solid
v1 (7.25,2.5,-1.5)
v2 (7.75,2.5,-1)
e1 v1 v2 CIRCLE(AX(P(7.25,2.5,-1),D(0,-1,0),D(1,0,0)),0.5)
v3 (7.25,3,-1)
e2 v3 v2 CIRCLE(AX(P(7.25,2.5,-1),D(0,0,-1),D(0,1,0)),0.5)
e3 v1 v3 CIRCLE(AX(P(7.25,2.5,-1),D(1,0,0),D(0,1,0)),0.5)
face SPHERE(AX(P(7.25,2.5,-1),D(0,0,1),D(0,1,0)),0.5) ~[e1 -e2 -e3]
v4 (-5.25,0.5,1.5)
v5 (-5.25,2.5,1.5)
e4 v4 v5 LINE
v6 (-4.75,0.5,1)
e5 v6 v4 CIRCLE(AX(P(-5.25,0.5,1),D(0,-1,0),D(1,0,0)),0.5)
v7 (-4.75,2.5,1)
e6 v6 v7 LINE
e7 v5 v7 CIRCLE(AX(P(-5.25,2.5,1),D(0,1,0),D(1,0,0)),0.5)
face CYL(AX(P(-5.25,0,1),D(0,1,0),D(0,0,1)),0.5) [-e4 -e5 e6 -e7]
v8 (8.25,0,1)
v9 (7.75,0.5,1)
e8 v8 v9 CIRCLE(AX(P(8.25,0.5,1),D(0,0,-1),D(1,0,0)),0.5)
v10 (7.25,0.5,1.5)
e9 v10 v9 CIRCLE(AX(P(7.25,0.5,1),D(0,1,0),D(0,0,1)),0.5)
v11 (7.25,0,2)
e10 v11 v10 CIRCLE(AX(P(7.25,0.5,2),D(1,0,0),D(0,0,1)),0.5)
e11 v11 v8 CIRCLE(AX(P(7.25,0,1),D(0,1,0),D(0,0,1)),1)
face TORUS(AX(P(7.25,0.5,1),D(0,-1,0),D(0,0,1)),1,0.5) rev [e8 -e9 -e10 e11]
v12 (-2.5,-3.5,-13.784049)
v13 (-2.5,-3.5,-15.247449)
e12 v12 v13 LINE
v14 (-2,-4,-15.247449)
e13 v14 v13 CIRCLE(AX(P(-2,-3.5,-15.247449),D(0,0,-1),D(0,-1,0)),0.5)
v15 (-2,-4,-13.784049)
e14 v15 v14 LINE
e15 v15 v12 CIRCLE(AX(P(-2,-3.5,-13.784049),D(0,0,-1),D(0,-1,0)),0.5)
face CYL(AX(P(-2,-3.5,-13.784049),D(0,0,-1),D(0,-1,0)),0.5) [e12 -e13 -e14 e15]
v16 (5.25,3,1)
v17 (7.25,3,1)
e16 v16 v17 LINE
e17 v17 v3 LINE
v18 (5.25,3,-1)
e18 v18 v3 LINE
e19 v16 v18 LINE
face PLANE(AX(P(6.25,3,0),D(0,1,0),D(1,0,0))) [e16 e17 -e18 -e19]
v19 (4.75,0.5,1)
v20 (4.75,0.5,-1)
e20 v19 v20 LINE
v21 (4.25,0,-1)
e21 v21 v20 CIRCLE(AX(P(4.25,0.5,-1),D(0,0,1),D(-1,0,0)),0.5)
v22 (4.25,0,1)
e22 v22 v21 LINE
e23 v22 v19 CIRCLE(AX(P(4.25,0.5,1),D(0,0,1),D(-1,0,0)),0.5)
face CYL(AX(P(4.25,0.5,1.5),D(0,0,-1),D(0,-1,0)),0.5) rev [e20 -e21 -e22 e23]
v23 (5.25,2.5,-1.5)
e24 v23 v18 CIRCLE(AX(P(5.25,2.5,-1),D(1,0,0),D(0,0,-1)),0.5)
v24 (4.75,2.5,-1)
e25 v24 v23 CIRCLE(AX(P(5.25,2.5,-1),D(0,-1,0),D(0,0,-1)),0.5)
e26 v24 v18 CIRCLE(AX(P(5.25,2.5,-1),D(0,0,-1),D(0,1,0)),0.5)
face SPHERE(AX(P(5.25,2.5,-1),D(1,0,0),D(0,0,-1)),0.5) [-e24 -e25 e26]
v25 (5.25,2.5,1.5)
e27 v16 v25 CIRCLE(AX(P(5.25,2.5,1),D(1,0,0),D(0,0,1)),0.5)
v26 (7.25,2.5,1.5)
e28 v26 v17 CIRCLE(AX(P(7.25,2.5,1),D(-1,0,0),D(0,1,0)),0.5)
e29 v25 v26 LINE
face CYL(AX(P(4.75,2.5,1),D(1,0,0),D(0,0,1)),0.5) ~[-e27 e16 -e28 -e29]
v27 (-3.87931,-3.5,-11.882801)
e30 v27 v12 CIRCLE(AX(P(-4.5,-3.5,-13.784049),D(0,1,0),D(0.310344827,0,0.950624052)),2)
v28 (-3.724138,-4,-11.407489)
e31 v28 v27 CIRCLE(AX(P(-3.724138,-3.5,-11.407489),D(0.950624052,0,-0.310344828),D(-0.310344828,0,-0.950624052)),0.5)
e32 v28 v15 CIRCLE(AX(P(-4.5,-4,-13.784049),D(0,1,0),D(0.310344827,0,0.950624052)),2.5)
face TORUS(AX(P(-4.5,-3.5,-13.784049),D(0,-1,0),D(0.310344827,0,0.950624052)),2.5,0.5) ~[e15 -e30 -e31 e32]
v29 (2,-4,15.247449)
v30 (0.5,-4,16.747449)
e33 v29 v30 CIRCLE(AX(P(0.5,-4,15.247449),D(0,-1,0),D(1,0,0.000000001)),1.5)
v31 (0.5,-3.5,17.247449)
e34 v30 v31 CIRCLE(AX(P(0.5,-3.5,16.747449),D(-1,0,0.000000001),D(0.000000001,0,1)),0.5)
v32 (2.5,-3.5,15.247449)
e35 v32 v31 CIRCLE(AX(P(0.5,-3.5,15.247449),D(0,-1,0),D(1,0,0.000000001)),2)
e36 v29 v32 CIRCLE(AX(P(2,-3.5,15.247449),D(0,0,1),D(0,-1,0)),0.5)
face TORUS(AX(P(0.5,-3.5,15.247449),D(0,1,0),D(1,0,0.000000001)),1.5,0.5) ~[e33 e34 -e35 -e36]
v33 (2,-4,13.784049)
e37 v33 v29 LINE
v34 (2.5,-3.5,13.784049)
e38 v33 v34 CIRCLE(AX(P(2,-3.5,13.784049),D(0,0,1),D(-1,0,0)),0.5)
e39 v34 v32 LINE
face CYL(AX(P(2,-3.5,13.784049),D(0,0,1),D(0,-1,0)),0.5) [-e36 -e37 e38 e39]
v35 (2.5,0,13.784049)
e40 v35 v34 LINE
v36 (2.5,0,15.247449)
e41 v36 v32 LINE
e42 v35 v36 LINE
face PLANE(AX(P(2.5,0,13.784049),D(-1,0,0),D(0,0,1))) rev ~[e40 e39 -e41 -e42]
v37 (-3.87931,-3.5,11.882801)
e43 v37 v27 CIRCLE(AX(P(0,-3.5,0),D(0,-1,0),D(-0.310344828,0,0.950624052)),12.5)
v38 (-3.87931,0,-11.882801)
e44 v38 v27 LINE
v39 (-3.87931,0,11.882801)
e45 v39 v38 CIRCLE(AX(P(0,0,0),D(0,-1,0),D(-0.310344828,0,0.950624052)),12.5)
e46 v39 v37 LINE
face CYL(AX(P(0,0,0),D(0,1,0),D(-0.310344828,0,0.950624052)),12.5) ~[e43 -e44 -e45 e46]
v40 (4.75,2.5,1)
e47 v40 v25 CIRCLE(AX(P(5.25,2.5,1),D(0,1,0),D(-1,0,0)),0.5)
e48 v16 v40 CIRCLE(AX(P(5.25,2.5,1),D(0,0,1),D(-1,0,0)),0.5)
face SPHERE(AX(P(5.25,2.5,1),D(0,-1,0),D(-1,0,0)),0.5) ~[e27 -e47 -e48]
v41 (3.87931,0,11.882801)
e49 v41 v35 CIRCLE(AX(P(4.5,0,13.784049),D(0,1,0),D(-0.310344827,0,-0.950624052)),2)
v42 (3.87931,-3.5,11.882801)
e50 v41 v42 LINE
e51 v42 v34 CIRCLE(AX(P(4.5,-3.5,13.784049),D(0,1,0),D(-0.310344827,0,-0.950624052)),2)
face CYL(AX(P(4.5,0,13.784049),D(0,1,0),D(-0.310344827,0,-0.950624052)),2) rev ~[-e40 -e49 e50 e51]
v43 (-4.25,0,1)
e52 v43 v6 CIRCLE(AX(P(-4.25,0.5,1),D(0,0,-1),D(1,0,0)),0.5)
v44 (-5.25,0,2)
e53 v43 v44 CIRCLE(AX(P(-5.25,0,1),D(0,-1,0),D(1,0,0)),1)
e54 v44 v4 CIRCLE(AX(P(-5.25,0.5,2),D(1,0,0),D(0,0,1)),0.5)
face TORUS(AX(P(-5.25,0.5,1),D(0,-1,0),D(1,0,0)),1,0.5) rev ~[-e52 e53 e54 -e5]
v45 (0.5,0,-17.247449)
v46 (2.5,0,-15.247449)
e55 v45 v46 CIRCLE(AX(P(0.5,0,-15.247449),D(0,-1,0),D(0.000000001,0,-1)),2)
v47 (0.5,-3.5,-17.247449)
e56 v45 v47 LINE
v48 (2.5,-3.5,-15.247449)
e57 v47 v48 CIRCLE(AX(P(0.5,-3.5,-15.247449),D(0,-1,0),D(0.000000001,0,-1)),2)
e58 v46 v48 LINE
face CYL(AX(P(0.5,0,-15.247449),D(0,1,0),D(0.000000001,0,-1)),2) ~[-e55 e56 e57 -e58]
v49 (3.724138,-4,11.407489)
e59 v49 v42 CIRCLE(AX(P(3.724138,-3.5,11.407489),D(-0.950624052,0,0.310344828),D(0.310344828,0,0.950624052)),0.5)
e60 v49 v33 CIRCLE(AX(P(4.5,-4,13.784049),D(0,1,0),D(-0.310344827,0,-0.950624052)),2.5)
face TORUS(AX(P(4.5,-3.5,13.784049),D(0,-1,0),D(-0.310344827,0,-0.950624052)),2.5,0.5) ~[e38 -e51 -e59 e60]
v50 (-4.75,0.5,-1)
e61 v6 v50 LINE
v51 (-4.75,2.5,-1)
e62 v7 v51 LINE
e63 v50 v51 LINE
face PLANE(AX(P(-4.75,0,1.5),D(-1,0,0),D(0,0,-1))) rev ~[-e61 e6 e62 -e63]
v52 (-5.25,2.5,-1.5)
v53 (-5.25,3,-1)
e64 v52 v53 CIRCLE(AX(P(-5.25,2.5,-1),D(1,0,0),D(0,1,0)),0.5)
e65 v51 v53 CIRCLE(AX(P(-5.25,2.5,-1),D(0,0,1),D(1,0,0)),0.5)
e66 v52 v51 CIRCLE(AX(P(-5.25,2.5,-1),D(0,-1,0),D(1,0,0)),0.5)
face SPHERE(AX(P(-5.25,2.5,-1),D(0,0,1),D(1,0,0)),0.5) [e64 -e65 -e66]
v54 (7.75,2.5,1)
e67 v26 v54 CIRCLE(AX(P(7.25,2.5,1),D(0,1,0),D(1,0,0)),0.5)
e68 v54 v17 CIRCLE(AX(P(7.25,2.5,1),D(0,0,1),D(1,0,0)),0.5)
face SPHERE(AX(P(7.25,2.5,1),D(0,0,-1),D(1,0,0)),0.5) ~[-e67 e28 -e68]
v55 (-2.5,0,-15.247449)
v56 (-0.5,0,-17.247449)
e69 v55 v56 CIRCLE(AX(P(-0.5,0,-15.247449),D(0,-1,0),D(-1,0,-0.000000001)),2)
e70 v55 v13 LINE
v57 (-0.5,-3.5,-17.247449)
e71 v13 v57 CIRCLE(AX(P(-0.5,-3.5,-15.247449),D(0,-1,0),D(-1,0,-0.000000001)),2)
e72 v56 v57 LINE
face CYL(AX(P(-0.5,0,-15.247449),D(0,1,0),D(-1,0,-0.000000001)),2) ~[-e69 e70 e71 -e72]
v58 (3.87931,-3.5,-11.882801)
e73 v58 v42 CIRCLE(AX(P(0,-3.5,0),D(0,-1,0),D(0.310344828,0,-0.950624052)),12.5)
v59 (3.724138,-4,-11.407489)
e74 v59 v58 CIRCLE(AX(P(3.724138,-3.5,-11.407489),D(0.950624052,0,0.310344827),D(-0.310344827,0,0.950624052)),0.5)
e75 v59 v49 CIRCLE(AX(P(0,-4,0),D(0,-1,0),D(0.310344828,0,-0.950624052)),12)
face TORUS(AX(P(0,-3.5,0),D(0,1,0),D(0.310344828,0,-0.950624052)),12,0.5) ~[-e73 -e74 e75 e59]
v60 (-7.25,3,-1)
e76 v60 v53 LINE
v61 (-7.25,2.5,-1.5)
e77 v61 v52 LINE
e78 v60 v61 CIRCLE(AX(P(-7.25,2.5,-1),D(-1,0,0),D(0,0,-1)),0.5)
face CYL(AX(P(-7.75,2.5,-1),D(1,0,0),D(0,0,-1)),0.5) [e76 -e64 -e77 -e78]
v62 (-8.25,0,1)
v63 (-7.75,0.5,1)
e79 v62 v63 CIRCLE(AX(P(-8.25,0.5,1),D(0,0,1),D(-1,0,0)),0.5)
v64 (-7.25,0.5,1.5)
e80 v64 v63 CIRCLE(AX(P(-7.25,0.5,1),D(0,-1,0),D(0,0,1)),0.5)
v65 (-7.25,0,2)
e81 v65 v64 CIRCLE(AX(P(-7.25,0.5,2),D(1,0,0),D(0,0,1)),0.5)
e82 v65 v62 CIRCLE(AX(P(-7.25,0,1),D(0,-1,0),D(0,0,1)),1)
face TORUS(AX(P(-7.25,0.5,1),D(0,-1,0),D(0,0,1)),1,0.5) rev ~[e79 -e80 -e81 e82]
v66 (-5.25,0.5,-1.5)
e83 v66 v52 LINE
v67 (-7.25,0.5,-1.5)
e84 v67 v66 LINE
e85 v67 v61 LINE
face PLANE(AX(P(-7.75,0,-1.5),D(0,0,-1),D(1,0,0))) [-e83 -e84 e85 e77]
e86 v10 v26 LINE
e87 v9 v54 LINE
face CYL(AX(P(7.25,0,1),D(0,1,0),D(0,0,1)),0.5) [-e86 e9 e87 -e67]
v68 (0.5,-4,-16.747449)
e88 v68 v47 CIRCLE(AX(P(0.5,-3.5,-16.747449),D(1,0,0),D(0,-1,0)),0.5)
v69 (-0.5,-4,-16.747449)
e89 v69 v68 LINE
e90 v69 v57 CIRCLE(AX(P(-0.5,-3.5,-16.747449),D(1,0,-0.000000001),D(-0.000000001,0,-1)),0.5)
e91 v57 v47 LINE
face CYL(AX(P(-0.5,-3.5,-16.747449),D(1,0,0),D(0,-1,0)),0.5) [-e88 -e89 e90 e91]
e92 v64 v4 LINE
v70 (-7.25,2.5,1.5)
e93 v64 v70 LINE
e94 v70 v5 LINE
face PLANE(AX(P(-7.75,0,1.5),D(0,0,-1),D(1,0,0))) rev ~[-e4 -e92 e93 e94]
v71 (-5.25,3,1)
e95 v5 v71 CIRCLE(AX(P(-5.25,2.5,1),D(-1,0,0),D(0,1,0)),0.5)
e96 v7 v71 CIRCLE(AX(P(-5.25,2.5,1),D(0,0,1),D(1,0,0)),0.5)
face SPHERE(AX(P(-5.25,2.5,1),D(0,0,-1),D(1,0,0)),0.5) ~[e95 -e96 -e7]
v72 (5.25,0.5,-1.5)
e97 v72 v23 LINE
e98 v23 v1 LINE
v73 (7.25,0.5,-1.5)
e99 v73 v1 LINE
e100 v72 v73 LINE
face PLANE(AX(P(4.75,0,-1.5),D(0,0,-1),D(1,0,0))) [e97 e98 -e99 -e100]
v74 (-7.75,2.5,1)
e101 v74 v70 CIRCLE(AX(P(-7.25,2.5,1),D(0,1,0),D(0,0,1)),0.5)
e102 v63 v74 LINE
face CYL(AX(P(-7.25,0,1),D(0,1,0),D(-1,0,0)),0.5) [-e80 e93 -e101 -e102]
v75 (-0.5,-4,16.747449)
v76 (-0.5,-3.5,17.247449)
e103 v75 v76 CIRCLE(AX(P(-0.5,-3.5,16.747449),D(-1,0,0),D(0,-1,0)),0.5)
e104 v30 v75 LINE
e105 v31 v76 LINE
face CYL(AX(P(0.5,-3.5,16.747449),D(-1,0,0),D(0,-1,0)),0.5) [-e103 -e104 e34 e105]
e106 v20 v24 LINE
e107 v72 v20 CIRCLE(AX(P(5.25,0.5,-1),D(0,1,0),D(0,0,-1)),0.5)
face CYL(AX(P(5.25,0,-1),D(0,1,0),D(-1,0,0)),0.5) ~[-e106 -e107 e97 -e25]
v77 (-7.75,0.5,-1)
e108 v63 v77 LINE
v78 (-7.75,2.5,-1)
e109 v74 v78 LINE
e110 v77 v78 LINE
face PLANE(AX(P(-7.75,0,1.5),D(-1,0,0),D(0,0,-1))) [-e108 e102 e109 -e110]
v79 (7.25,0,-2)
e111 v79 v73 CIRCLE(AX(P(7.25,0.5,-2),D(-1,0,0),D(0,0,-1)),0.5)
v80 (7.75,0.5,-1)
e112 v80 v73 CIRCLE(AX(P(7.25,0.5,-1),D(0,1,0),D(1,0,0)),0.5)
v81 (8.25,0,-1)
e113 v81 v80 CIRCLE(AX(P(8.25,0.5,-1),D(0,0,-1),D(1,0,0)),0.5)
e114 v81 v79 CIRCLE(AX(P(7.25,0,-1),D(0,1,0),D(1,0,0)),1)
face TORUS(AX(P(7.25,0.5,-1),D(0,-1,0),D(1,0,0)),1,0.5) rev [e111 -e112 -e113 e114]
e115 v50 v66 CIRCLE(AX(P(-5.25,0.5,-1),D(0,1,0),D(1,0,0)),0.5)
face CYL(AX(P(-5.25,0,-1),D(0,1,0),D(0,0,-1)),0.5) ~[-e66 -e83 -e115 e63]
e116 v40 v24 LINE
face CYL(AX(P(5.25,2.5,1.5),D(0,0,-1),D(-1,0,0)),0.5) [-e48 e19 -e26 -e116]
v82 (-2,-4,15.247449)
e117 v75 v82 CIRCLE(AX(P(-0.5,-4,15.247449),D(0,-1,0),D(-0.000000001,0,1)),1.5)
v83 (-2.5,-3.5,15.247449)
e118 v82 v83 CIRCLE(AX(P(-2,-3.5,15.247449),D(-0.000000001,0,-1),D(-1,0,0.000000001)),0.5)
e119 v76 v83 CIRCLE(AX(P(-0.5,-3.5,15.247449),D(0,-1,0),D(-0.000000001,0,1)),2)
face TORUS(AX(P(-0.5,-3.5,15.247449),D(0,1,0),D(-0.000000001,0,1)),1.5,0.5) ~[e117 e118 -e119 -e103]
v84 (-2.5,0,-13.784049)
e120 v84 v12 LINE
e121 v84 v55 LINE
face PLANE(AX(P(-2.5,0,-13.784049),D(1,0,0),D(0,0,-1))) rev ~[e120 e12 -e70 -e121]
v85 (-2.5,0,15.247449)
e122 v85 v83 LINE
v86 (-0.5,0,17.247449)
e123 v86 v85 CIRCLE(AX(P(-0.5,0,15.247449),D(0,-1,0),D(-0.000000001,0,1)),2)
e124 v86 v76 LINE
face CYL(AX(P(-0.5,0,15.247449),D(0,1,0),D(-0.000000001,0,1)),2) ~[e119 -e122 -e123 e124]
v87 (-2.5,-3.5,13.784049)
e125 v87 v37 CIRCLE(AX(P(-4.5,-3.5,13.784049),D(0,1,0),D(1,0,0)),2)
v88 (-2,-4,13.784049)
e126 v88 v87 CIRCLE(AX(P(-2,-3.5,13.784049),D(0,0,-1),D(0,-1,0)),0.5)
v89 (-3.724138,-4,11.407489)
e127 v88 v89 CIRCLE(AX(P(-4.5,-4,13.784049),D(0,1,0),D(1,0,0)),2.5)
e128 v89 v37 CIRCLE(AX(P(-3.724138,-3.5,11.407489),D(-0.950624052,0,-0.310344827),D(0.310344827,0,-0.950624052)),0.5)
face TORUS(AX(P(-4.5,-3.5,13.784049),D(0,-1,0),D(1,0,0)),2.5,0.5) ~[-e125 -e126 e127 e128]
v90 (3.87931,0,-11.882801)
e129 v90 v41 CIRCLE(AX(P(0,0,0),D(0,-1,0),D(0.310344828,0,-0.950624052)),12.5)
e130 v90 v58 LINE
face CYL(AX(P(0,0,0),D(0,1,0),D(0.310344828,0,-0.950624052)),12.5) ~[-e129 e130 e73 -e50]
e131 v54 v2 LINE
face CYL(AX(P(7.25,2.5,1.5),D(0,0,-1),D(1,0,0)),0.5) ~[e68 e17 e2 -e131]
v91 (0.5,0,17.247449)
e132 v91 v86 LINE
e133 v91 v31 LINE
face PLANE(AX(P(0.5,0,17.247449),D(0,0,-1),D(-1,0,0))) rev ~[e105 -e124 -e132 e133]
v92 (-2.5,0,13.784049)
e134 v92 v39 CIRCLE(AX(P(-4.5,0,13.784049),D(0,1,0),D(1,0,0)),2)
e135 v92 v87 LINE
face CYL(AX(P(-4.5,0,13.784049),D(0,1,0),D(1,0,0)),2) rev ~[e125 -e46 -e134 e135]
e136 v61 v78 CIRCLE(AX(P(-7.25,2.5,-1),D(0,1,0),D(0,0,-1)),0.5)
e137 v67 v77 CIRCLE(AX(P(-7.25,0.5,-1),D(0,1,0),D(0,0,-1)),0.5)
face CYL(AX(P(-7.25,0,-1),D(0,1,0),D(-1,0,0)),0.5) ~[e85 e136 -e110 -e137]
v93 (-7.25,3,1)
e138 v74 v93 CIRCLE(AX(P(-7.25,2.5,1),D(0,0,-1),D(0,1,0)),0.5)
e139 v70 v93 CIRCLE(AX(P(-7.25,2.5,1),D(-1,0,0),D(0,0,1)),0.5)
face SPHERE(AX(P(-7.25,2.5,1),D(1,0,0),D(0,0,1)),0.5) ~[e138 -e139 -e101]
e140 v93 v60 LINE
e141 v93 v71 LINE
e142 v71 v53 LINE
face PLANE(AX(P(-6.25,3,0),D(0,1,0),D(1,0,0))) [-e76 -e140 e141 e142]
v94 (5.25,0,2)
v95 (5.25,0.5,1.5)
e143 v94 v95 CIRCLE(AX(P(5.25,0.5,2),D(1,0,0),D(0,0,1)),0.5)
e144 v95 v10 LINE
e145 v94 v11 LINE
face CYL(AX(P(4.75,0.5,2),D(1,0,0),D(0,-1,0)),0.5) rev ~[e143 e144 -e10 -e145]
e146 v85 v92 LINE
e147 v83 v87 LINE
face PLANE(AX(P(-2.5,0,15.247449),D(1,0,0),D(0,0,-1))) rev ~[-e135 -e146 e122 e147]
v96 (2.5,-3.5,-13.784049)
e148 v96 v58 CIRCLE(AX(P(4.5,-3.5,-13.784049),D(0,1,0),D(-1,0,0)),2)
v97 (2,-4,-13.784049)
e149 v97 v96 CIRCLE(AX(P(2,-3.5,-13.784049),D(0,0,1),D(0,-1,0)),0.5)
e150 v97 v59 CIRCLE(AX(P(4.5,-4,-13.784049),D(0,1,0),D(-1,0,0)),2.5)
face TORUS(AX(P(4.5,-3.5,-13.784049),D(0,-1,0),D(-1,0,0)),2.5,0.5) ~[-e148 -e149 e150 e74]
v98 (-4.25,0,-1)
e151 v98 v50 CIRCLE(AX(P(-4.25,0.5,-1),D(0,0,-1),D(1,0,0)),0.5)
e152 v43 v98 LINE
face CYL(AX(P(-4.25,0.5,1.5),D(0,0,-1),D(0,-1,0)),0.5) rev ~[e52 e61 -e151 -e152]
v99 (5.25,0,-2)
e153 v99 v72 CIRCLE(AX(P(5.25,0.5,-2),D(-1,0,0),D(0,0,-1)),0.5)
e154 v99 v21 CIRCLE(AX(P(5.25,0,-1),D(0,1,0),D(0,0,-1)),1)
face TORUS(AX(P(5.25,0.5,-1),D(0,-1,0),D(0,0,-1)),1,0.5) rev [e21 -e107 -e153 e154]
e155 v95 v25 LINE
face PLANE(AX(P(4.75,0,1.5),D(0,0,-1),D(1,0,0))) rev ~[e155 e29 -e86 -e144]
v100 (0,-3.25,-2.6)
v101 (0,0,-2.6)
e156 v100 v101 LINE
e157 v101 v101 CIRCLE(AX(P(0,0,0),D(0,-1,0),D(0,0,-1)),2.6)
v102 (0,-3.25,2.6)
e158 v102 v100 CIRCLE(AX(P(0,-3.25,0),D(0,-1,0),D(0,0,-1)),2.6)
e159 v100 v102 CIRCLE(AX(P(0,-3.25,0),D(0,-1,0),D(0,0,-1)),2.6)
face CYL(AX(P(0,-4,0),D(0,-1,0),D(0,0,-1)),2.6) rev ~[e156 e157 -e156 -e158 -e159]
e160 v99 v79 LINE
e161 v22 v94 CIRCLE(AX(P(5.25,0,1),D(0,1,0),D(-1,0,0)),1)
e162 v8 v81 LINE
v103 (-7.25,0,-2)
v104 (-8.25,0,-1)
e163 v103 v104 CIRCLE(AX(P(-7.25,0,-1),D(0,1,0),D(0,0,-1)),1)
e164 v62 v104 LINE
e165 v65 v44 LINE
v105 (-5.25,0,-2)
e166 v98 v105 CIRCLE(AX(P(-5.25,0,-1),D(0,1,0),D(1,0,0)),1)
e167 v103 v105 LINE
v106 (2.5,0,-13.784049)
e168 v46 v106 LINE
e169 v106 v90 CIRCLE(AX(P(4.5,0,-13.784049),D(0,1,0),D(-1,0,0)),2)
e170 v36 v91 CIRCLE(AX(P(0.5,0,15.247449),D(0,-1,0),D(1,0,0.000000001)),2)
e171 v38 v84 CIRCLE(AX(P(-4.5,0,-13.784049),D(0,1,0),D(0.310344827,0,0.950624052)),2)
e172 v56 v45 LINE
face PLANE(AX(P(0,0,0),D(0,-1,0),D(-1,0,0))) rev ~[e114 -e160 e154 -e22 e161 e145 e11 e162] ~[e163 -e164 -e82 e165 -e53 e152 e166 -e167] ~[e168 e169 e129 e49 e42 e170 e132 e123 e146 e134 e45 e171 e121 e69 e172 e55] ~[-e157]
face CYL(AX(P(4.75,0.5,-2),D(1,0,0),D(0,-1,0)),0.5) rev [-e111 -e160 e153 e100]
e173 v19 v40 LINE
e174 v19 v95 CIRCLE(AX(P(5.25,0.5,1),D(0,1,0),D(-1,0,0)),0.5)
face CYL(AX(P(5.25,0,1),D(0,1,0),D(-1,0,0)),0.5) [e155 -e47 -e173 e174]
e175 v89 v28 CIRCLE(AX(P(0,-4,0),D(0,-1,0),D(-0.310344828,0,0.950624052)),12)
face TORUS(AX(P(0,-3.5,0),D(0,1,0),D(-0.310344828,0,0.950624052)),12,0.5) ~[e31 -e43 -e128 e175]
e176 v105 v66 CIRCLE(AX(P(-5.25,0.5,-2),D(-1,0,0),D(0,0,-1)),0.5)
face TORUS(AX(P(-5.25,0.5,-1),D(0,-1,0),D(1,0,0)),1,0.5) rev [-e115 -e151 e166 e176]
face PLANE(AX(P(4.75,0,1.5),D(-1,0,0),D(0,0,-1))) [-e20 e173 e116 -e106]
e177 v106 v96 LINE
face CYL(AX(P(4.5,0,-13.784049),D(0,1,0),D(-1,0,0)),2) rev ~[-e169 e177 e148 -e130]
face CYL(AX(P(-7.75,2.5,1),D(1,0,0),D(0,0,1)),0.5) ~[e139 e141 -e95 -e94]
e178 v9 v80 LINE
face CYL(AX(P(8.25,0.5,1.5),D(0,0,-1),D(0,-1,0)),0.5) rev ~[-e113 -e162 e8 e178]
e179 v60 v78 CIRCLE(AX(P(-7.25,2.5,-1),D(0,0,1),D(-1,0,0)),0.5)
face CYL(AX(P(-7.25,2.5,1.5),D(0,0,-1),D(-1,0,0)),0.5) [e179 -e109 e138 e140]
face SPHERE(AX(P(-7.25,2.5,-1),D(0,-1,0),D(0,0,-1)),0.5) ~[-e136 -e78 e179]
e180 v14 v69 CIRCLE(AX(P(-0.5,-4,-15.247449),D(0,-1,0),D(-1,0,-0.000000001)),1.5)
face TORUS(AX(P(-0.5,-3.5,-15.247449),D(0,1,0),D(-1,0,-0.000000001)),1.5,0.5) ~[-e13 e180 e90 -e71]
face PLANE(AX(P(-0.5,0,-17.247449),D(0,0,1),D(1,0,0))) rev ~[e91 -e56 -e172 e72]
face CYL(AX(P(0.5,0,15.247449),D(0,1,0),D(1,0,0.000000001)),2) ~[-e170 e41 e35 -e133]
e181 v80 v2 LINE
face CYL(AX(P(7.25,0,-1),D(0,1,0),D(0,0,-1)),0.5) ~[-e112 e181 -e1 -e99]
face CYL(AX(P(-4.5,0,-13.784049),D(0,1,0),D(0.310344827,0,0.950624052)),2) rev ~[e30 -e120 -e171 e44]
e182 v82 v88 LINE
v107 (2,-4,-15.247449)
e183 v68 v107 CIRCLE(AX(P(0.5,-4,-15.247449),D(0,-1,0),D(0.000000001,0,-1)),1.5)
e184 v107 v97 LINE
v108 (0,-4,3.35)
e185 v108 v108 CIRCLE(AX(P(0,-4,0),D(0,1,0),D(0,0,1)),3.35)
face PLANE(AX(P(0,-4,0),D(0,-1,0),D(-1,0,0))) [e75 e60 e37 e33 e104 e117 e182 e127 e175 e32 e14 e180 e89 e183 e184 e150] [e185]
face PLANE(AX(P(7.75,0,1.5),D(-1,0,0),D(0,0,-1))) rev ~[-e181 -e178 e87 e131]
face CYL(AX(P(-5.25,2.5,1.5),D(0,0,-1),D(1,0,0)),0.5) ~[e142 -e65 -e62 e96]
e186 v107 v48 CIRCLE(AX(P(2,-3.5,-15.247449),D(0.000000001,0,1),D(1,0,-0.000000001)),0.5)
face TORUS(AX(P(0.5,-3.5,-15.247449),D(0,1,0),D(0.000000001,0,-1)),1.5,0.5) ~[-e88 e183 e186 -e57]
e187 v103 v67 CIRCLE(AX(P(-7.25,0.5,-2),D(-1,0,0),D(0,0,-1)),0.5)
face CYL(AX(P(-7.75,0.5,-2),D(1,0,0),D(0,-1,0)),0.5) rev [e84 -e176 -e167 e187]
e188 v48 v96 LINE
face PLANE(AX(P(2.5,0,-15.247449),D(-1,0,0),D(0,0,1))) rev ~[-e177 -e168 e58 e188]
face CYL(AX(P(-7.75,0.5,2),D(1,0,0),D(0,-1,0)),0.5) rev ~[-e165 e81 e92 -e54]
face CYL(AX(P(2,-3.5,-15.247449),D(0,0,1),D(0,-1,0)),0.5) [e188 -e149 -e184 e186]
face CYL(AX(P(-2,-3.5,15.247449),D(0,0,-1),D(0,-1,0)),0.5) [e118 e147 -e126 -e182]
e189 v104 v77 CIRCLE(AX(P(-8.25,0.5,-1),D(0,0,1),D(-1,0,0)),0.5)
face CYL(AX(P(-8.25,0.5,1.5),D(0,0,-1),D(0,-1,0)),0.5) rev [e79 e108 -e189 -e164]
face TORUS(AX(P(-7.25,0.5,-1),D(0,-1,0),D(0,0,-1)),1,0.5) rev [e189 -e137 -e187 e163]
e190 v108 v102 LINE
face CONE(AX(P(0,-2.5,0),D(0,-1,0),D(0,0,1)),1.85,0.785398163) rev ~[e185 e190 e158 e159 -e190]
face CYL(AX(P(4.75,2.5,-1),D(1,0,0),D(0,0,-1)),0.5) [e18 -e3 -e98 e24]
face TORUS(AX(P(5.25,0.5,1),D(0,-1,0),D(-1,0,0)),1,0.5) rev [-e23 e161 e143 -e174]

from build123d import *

# Parameters (mm, degrees)
SKETCH1_R           = 1.85
BOSS_EXTRUDE1_DEPTH = 4
SKETCH1_3_W         = 3
SKETCH1_3_H         = 3
BOSS_EXTRUDE2_DEPTH = 3
CHAMFER1_SIZE       = 1.5
SKETCH2_R           = 2.6
CUT_EXTRUDE1_DEPTH  = 4
FILLET1_R           = 0.5


with BuildPart() as part:
    # Sketch1 → Boss-Extrude1 (new body)
    with BuildSketch(Plane(origin=(0, 0, 0), x_dir=(1, 0, 0), z_dir=(0, 1, 0))):
        with BuildLine():
            Line((-2.5, 13.784048752), (-2.5, 15.247448714))
            ThreePointArc((-2.5, 15.247448714), (-1.914213562, 16.661662276), (-0.5, 17.247448714))
            Line((-0.5, 17.247448714), (0.5, 17.247448714))
            ThreePointArc((0.5, 17.247448714), (1.914213562, 16.661662276), (2.5, 15.247448714))
            Line((2.5, 15.247448714), (2.5, 13.784048752))
            ThreePointArc((2.5, 13.784048752), (2.881145573, 12.609608313), (3.879310345, 11.882800648))
            ThreePointArc((3.879310345, 11.882800648), (12.5, 0), (3.879310345, -11.882800648))
            ThreePointArc((3.879310345, -11.882800648), (2.881145573, -12.609608313), (2.5, -13.784048752))
            Line((2.5, -13.784048752), (2.5, -15.247448714))
            ThreePointArc((2.5, -15.247448714), (1.914213562, -16.661662276), (0.5, -17.247448714))
            Line((0.5, -17.247448714), (-0.5, -17.247448714))
            ThreePointArc((-0.5, -17.247448714), (-1.914213562, -16.661662276), (-2.5, -15.247448714))
            Line((-2.5, -15.247448714), (-2.5, -13.784048752))
            ThreePointArc((-2.5, -13.784048752), (-2.881145573, -12.609608313), (-3.879310345, -11.882800648))
            ThreePointArc((-3.879310345, -11.882800648), (-12.5, 0), (-3.879310345, 11.882800648))
            ThreePointArc((-3.879310345, 11.882800648), (-2.881145573, 12.609608313), (-2.5, 13.784048752))
        make_face()
        with Locations(Location((0, 0, 0), (0, 0, 270))):
            Circle(SKETCH1_R, mode=Mode.SUBTRACT)
    extrude(amount=-BOSS_EXTRUDE1_DEPTH)

    # Sketch1<3> → Boss-Extrude2 (add)
    with BuildSketch(Plane(origin=(0, 0, 0), x_dir=(1, 0, 0), z_dir=(0, 1, 0))):
        with Locations((-6.25, 0)):
            Rectangle(SKETCH1_3_W, SKETCH1_3_H)
        with Locations((6.25, 0)):
            Rectangle(SKETCH1_3_W, SKETCH1_3_H)
    extrude(amount=BOSS_EXTRUDE2_DEPTH)

    # Chamfer1
    chamfer1_edges = [part.edges().sort_by_distance(p)[0] for p in [
        (0, -4, -1.85),
    ]]
    chamfer(chamfer1_edges, length=CHAMFER1_SIZE)

    # Sketch2 → Cut-Extrude1 (cut)
    with BuildSketch(Plane.XZ.offset(4)):
        with Locations(Location((0, 0, 0), (0, 0, 270))):
            Circle(SKETCH2_R)
    extrude(amount=-CUT_EXTRUDE1_DEPTH, mode=Mode.SUBTRACT)

    # Fillet1
    fillet1_edges = [part.edges().sort_by_distance(p)[0] for p in [
        (-2.5, -4, -14.515748733),
        (-2.881145573, -4, -12.609608313),
        (-12.5, -4, 0),
        (-2.881145573, -4, 12.609608313),
        (-2.5, -4, 14.515748733),
        (-1.914213562, -4, 16.661662276),
        (0, -4, 17.247448714),
        (1.914213562, -4, 16.661662276),
        (2.5, -4, 14.515748733),
        (-4.75, 3, 0),
        (-4.75, 1.5, 1.5),
        (-6.25, 0, -1.5),
        (-4.75, 1.5, -1.5),
        (-7.75, 0, 0),
        (2.881145573, -4, 12.609608313),
        (-7.75, 1.5, -1.5),
        (-6.25, 3, 1.5),
        (-7.75, 1.5, 1.5),
        (-6.25, 3, -1.5),
        (-7.75, 3, 0),
        (-4.75, 0, 0),
        (-6.25, 0, 1.5),
        (-1.914213562, -4, -16.661662276),
        (12.5, -4, 0),
        (2.881145573, -4, -12.609608313),
        (7.75, 3, 0),
        (7.75, 1.5, 1.5),
        (6.25, 3, -1.5),
        (7.75, 1.5, -1.5),
        (4.75, 0, 0),
        (4.75, 1.5, -1.5),
        (6.25, 0, 1.5),
        (4.75, 1.5, 1.5),
        (4.75, 3, 0),
        (6.25, 3, 1.5),
        (7.75, 0, 0),
        (6.25, 0, -1.5),
        (2.5, -4, -14.515748733),
        (1.914213562, -4, -16.661662276),
        (0, -4, -17.247448714),
    ]]
    fillet(fillet1_edges, radius=FILLET1_R)


solid = part.part
